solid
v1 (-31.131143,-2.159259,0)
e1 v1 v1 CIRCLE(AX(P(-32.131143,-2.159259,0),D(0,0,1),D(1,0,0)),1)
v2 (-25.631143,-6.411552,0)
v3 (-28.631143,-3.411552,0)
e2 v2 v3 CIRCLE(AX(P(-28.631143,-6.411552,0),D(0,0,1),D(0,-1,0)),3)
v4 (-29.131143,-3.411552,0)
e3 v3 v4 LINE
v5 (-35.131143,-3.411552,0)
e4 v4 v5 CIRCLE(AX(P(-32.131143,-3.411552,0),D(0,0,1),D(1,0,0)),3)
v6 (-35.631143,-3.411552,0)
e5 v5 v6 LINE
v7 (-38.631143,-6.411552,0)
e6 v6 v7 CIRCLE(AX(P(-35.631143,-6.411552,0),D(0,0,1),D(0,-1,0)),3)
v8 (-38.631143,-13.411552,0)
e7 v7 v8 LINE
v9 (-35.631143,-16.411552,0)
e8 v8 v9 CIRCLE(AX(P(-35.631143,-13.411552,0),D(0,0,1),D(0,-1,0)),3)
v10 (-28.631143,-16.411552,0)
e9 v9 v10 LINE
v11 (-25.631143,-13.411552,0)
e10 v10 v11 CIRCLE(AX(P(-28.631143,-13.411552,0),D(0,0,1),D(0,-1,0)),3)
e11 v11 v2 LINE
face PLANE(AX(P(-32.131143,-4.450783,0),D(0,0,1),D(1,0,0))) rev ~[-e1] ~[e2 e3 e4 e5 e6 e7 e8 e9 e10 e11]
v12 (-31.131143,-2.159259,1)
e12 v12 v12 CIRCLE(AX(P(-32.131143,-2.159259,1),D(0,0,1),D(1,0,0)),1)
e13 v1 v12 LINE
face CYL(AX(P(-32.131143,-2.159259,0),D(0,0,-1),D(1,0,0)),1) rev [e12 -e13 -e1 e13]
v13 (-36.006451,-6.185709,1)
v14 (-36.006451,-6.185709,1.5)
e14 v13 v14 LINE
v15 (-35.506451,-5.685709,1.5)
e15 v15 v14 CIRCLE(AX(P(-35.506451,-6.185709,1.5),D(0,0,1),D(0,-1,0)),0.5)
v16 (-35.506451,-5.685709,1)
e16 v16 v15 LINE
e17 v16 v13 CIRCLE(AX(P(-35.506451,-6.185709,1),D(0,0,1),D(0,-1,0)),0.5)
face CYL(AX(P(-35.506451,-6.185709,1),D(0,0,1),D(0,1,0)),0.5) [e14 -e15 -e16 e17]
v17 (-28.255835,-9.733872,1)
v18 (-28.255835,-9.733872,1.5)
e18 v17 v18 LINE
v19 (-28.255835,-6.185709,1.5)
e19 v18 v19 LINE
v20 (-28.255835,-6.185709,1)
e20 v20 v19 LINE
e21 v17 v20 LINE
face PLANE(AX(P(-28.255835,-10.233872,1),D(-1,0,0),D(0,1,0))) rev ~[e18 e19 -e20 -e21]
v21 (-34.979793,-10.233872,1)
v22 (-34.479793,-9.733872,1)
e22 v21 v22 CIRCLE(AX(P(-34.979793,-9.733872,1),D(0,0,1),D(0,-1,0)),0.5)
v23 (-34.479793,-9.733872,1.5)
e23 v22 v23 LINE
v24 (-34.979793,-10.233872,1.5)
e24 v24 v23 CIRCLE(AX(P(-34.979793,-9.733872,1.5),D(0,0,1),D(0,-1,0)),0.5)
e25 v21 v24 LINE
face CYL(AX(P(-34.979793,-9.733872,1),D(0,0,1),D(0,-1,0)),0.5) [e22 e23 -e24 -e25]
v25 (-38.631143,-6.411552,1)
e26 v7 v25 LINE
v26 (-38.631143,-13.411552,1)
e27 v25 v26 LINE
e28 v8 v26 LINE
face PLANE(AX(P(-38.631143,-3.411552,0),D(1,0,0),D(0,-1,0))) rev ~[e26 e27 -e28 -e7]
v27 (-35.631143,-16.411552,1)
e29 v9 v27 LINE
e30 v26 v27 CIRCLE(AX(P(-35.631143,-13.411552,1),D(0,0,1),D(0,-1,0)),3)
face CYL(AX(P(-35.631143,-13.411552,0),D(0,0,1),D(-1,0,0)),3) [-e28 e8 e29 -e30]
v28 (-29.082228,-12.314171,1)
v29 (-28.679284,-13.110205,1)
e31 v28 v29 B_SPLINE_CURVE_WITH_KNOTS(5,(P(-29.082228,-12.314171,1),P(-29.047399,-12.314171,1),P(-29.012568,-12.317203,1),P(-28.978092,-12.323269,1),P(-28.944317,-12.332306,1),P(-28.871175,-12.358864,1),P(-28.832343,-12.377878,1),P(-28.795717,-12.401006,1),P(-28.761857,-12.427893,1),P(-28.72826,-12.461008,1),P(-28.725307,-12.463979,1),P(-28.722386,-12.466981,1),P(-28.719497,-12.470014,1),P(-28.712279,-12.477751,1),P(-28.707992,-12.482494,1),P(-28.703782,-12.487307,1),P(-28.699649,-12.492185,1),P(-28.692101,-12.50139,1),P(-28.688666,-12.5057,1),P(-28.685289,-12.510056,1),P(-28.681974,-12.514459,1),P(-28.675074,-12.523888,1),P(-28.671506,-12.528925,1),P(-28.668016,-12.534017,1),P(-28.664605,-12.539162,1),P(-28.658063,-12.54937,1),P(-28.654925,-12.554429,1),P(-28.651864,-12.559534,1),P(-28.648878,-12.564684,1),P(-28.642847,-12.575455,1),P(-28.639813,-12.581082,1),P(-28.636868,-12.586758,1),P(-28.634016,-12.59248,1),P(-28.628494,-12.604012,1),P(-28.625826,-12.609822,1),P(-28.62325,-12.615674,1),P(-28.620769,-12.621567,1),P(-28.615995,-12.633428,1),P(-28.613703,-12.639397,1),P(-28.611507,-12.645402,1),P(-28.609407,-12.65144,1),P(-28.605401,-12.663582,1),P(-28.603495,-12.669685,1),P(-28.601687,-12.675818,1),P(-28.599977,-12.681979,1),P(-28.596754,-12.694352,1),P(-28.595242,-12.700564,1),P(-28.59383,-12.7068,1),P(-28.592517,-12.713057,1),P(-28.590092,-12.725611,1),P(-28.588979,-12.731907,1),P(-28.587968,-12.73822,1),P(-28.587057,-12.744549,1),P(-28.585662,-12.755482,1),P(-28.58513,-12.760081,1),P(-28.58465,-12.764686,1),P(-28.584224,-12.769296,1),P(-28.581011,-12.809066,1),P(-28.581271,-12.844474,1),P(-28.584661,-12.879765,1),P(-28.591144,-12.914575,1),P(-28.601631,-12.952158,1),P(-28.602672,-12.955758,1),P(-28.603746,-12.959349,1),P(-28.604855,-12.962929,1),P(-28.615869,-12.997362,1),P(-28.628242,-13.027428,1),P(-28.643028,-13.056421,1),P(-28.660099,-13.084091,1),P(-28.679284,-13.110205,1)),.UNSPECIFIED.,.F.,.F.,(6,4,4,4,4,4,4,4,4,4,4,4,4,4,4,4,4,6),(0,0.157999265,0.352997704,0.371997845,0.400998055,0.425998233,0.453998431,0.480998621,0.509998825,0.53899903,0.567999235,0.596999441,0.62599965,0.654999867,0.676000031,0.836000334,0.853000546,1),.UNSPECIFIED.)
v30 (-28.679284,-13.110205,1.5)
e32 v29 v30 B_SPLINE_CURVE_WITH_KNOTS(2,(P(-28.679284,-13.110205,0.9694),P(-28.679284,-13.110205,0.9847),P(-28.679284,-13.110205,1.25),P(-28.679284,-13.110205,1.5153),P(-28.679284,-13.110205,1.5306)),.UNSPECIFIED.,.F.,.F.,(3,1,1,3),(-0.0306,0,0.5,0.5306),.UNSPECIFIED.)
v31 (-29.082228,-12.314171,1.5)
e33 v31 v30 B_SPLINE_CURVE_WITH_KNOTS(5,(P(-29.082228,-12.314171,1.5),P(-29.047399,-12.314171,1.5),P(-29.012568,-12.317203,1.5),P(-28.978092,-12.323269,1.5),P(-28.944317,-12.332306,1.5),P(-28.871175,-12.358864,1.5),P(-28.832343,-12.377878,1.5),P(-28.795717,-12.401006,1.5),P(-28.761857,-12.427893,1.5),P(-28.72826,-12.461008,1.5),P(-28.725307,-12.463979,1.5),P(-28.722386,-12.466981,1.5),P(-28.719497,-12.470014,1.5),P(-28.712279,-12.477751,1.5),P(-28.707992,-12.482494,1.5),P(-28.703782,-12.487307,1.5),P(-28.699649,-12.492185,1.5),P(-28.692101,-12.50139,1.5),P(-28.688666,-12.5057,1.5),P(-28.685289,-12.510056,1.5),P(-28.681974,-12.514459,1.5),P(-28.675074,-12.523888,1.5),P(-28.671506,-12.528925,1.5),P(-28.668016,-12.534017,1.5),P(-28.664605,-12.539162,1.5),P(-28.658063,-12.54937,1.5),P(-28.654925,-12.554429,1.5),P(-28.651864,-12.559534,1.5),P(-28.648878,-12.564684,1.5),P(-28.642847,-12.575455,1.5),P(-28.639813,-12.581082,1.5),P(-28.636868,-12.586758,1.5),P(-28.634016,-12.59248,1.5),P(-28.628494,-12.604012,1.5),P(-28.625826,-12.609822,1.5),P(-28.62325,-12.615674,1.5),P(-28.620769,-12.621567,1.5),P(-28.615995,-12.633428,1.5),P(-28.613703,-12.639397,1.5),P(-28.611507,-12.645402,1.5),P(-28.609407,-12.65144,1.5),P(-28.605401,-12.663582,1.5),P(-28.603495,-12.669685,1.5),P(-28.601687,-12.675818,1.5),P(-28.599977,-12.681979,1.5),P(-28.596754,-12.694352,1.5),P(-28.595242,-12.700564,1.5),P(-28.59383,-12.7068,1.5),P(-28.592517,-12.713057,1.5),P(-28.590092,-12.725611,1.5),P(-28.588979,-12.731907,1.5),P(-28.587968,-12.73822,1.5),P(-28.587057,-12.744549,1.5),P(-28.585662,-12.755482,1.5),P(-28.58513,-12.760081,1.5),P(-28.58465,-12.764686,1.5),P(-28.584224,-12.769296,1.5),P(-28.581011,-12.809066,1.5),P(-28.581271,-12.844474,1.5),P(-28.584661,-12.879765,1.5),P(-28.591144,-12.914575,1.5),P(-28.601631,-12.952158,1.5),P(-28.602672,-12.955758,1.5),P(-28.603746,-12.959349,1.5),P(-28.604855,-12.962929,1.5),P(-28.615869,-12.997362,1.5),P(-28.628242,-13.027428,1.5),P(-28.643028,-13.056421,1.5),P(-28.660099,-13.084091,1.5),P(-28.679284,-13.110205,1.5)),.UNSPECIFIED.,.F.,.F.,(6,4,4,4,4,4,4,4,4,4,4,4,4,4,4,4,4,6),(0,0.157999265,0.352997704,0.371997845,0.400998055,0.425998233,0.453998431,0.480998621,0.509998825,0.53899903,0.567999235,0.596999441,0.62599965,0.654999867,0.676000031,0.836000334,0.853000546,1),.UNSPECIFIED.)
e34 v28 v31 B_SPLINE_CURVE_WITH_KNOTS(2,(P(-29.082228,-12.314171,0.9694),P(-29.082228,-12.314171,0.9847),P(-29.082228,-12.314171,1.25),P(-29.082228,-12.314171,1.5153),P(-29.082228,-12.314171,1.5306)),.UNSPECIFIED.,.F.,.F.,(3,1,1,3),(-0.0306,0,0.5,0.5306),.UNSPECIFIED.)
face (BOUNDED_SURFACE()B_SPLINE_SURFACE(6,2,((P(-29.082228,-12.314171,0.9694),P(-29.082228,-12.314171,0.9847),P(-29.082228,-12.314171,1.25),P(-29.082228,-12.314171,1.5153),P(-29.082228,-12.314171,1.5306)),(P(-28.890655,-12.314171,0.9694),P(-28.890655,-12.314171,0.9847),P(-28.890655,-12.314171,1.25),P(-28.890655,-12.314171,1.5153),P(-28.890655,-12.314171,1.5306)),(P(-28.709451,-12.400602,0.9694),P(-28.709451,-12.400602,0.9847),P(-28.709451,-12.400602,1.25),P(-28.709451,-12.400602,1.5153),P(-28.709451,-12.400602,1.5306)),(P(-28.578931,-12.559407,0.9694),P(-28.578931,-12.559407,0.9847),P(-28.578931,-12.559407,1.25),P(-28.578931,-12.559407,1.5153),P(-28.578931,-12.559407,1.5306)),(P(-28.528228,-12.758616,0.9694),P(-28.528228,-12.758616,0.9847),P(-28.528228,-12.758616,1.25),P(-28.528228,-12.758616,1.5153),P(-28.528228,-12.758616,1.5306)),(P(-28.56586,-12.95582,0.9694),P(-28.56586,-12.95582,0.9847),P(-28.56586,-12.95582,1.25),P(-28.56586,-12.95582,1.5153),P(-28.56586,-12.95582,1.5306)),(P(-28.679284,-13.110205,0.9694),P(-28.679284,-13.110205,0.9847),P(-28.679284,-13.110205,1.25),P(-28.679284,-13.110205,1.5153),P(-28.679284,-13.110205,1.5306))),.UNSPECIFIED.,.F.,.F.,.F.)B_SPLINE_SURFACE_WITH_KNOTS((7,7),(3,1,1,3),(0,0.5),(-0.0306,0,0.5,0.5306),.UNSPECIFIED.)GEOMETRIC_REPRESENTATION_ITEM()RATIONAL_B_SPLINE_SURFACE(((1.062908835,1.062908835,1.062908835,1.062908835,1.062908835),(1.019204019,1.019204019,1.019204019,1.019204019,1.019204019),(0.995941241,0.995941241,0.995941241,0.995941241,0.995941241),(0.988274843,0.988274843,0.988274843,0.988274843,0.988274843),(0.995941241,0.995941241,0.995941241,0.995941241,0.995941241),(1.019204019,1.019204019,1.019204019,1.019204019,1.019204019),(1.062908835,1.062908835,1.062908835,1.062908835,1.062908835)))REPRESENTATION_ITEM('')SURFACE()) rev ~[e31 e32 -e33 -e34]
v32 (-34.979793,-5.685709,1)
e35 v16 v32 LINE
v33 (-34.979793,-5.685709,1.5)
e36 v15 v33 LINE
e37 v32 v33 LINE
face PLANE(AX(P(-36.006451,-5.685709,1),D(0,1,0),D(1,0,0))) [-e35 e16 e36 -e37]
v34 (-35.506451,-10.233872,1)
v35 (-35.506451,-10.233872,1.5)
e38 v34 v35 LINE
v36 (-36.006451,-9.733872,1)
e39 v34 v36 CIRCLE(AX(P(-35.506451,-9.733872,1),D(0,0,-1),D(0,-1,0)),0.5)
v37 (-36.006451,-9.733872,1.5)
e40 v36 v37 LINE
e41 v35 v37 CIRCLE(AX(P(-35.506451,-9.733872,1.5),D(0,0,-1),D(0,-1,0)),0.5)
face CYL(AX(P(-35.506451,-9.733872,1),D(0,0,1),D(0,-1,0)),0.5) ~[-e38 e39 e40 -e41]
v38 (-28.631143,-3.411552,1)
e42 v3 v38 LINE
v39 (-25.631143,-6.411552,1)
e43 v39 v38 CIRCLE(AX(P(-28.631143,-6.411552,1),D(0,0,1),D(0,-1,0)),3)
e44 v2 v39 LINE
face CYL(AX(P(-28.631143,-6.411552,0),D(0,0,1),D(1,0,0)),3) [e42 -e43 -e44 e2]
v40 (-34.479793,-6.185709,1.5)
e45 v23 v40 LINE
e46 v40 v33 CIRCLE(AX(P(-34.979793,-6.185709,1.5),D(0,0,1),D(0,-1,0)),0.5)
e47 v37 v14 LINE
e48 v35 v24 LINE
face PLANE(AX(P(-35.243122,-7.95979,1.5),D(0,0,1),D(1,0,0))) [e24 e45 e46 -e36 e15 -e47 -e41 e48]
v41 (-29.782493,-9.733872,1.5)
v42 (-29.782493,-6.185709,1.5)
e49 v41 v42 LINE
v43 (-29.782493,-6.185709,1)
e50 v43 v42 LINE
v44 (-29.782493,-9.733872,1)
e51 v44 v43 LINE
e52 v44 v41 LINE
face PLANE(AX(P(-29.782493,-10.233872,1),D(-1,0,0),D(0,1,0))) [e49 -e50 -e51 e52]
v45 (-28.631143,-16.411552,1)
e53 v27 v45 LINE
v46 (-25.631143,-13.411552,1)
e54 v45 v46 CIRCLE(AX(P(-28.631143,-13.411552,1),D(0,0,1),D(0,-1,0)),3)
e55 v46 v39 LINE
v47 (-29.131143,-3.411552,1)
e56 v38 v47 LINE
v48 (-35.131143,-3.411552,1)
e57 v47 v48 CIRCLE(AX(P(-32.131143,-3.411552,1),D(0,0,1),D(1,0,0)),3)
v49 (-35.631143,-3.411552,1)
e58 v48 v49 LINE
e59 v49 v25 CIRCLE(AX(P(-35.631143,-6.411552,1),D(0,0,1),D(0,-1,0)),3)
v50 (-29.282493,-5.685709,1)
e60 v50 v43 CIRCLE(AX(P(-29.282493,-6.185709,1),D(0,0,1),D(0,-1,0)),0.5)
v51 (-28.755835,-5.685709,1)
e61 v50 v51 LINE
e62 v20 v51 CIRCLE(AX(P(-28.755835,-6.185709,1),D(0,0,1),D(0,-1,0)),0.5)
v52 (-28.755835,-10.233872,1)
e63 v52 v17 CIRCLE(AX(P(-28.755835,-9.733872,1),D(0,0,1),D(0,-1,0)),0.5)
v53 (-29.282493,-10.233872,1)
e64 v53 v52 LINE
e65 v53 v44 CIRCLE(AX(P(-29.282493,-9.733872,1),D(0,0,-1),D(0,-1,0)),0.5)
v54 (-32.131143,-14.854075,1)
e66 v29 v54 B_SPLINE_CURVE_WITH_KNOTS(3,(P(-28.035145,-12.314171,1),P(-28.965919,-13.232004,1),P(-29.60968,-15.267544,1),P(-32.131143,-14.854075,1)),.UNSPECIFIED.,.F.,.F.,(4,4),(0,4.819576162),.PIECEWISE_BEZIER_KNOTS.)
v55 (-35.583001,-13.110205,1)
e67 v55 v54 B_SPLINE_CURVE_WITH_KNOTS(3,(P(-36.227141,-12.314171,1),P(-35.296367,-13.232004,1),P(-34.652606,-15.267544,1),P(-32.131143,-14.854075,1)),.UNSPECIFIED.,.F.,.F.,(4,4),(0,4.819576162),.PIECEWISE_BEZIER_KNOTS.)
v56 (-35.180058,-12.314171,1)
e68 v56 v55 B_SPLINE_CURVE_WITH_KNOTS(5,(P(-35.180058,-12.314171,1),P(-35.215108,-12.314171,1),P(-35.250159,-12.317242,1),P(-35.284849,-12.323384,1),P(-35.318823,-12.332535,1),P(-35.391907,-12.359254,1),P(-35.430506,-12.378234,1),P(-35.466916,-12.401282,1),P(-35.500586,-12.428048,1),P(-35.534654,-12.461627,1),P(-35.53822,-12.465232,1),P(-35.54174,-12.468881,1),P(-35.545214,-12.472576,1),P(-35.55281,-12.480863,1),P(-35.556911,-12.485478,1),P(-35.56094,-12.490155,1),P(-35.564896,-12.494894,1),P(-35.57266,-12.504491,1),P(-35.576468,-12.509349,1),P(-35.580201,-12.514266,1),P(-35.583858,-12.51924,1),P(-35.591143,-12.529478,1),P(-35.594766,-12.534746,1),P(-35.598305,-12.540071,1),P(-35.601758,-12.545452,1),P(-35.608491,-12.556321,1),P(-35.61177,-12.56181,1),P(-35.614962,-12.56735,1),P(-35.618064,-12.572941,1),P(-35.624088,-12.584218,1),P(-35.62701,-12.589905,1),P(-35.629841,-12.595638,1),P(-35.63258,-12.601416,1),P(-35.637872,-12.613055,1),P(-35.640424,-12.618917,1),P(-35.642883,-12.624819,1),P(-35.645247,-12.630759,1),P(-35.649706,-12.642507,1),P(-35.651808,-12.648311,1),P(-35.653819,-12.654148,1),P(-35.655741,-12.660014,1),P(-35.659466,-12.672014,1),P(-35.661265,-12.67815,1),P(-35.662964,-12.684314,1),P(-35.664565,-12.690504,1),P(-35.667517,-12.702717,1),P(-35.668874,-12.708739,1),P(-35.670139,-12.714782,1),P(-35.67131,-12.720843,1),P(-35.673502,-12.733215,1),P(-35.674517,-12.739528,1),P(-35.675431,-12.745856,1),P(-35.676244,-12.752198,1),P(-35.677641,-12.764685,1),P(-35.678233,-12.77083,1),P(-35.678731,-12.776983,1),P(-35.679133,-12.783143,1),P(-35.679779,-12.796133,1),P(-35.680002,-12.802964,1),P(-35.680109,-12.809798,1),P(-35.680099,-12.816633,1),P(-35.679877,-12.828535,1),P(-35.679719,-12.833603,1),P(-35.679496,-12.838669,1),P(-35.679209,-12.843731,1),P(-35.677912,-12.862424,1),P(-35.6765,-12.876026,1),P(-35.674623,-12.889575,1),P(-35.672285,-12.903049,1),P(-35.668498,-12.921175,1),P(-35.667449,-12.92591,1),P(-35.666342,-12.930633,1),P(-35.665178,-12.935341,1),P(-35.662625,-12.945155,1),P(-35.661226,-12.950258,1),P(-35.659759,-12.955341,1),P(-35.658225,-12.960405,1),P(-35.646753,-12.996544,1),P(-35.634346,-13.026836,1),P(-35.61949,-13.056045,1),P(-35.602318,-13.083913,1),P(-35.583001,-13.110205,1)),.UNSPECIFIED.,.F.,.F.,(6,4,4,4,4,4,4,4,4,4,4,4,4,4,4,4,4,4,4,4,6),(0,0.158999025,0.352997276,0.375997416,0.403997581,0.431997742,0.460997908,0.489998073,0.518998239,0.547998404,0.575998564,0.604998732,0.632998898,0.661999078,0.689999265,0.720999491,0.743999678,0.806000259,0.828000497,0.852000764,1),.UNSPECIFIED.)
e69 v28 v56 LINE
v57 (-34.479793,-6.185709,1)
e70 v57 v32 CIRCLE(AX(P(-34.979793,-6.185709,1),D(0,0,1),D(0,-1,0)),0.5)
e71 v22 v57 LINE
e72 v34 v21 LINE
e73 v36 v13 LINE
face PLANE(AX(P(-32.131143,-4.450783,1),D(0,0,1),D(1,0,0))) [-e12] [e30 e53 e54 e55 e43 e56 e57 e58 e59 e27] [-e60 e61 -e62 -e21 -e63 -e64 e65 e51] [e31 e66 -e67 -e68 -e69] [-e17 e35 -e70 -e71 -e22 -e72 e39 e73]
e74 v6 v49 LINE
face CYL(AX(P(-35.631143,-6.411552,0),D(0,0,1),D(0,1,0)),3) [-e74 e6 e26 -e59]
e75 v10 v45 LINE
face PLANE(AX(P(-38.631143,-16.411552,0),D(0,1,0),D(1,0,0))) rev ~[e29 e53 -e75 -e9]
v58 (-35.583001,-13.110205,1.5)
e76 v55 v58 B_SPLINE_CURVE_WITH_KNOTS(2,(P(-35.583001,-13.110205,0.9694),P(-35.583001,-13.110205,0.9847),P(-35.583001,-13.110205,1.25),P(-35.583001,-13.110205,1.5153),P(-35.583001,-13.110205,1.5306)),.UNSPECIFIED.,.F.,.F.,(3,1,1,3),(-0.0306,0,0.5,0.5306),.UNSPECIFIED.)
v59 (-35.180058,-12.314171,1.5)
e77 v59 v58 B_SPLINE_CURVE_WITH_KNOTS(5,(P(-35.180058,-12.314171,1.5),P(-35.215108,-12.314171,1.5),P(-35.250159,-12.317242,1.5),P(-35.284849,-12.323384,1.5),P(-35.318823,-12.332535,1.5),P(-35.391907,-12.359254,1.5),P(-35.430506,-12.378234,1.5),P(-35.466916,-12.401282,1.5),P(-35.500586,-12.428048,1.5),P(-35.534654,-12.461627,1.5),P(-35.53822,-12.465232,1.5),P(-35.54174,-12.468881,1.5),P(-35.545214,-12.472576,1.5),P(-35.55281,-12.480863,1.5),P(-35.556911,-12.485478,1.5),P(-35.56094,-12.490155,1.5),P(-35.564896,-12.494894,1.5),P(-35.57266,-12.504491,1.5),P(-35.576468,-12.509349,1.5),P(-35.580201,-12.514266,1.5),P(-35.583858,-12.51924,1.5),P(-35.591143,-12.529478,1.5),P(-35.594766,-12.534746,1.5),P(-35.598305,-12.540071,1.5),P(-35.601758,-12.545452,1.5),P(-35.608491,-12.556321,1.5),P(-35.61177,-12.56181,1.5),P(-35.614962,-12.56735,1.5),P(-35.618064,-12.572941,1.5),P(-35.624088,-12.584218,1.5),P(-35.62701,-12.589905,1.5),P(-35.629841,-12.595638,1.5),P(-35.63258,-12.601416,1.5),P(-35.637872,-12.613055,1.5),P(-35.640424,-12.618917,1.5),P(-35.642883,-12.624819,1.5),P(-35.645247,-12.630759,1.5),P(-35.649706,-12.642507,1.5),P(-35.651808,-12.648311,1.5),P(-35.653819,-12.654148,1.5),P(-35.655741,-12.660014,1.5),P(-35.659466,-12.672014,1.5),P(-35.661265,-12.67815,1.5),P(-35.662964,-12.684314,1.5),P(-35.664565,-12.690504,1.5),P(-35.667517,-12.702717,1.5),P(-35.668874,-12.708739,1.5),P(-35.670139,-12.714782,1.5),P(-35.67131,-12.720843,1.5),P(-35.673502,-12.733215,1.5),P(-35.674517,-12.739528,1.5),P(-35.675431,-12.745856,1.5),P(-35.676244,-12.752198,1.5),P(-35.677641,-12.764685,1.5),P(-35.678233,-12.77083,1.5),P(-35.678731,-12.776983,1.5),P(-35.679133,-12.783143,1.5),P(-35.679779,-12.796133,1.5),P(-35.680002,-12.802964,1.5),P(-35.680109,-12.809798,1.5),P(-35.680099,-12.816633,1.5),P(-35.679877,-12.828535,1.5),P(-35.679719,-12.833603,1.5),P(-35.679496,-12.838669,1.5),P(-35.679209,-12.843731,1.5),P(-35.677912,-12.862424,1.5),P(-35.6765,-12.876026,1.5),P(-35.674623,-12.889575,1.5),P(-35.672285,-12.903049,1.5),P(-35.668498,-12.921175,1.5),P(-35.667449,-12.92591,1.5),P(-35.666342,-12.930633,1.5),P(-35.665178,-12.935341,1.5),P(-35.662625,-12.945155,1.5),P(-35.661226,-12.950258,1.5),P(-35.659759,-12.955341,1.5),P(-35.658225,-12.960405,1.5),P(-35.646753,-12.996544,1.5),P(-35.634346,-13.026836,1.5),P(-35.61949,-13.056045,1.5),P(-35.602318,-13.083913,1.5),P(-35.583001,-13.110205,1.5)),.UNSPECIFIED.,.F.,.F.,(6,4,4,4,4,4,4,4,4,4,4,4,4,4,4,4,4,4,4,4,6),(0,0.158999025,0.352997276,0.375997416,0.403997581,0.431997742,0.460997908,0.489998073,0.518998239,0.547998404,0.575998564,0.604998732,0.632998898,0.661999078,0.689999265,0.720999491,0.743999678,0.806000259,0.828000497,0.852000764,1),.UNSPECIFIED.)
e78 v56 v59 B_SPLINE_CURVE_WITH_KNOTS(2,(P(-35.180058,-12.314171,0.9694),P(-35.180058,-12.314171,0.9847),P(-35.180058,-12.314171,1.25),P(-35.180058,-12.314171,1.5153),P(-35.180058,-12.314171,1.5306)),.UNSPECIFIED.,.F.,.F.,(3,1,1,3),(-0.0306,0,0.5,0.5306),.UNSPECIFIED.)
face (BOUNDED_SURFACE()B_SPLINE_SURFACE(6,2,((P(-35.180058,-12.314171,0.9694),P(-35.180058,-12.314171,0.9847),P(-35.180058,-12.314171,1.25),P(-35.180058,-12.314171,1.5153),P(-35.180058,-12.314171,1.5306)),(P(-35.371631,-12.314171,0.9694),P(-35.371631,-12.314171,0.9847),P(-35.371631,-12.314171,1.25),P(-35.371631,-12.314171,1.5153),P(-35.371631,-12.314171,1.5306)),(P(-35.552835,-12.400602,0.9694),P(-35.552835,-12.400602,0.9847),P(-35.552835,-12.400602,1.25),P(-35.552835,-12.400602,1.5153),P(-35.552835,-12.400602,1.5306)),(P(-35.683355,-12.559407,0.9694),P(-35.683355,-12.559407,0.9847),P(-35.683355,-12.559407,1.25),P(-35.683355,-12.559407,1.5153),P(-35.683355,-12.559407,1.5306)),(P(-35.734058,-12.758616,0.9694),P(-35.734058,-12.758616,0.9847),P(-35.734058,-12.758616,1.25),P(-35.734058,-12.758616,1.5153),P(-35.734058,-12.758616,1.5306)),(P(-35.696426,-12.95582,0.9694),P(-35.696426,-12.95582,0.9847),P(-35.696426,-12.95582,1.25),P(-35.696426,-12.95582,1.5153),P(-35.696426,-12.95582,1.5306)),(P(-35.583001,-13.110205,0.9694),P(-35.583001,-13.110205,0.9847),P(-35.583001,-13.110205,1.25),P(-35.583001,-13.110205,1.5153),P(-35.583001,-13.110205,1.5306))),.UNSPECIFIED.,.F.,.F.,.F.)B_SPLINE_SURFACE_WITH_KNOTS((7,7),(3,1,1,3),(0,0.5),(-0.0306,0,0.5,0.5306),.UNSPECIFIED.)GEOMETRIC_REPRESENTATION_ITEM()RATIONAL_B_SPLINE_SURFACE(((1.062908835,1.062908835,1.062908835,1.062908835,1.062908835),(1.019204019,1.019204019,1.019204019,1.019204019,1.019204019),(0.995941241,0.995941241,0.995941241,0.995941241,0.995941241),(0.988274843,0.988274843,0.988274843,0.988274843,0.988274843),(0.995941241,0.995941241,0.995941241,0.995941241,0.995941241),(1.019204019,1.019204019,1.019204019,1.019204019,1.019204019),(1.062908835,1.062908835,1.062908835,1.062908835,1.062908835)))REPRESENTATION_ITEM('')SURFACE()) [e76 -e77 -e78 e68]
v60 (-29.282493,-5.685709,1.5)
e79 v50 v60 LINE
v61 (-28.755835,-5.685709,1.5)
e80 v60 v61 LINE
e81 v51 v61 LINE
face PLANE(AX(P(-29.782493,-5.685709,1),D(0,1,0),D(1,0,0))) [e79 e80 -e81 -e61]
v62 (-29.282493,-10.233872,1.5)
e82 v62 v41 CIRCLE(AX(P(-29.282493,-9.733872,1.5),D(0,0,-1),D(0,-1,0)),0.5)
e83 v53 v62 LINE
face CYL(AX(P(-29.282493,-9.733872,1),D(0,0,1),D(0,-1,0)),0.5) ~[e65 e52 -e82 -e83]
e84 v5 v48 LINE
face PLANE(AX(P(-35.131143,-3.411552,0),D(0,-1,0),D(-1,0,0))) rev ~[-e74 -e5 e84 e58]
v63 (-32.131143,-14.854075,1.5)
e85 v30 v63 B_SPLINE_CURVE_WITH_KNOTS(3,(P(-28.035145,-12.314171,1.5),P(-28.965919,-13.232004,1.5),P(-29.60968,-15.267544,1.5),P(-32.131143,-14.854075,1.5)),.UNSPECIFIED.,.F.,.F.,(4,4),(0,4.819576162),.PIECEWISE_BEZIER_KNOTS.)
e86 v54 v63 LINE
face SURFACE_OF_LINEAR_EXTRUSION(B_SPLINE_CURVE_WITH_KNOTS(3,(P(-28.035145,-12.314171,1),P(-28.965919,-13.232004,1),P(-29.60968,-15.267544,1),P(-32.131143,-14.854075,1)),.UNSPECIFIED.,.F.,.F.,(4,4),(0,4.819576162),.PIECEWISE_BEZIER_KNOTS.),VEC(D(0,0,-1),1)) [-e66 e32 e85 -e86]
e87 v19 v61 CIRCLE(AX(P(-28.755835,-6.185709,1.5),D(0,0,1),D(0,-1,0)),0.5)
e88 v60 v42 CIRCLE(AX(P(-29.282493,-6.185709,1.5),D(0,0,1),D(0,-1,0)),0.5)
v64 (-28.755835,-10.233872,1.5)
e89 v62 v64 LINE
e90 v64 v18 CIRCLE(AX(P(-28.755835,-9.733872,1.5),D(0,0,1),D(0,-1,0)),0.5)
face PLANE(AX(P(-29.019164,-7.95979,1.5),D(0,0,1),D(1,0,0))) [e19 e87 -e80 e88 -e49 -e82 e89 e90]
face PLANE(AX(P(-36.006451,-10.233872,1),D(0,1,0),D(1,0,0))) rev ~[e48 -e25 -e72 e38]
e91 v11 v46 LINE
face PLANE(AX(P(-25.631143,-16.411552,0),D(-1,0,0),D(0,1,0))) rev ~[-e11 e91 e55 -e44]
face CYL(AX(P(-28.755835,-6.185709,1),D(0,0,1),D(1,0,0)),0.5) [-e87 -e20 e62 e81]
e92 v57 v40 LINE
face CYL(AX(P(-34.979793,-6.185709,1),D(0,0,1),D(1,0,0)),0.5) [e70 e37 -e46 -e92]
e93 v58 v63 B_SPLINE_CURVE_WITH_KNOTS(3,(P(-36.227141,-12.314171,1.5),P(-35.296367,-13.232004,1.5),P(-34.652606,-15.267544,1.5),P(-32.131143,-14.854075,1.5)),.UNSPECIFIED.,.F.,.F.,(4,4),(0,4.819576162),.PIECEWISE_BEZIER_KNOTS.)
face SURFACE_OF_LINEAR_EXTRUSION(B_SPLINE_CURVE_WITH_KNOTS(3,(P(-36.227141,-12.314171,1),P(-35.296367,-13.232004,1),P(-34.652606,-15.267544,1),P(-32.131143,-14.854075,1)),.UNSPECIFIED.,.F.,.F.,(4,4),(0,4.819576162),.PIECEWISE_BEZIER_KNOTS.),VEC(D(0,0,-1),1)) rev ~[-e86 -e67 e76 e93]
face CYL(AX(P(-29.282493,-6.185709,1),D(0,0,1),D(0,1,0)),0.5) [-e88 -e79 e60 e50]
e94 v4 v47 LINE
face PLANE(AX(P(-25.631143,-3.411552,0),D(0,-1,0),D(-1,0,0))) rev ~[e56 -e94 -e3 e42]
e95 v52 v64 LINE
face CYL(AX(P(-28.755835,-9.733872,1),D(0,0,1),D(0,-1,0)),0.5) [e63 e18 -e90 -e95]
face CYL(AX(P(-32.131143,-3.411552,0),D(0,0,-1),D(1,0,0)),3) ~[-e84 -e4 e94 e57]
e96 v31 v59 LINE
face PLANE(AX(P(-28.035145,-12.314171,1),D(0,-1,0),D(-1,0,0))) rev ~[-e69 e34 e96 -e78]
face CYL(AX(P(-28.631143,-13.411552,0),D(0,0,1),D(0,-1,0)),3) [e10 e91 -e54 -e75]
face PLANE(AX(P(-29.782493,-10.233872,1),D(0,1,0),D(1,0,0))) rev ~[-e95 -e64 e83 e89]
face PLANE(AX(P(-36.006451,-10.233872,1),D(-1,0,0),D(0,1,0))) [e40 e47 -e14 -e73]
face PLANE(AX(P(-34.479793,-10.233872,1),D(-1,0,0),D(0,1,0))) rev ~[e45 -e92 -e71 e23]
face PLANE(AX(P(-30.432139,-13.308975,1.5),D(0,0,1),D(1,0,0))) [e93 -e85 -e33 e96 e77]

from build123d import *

# Parameters (mm, degrees)
F0_R     = 1
F1_DEPTH = 1
F2_R     = 3
F3_W     = 1.5266574919
F3_H     = 4.5481626876
F4_DEPTH = 0.5
F5_R     = 0.5


with BuildPart() as f1:
    # F0 (on Top) → F1 (new body)
    with BuildSketch(Plane.XY):
        with BuildLine():
            ThreePointArc((-35.1311429143, -3.4115522057), (-32.1311429143, -6.4115522057), (-29.1311429143, -3.4115522057))
            Line((-29.1311429143, -3.4115522057), (-35.1311429143, -3.4115522057))
        make_face()
        with BuildLine():
            Line((-35.1311429143, -3.4115522057), (-29.1311429143, -3.4115522057))
            ThreePointArc((-29.1311429143, -3.4115522057), (-32.1311429143, -0.4115522057), (-35.1311429143, -3.4115522057))
        make_face()
        with Locations((-32.1311429143, -2.1592592821)):
            Circle(F0_R, mode=Mode.SUBTRACT)
        with BuildLine():
            Line((-25.6311429143, -3.4115522057), (-29.1311429143, -3.4115522057))
            ThreePointArc((-29.1311429143, -3.4115522057), (-32.1311429143, -6.4115522057), (-35.1311429143, -3.4115522057))
            Line((-35.1311429143, -3.4115522057), (-38.6311429143, -3.4115522057))
            Line((-38.6311429143, -3.4115522057), (-38.6311429143, -16.4115522057))
            Line((-38.6311429143, -16.4115522057), (-25.6311429143, -16.4115522057))
            Line((-25.6311429143, -16.4115522057), (-25.6311429143, -3.4115522057))
        make_face()
    extrude(amount=F1_DEPTH)

    # F2
    f2_edges = [f1.edges().sort_by_distance(p)[0] for p in [
        (-25.631143, -3.411552, 0.5),
        (-25.631143, -16.411552, 0.5),
        (-38.631143, -3.411552, 0.5),
        (-38.631143, -16.411552, 0.5),
    ]]
    fillet(f2_edges, radius=F2_R)

    # F3 (on face) → F4 (join)
    with BuildSketch(Plane.XY.offset(1)):
        with Locations((-35.2431219071, -7.959790295)):
            Rectangle(F3_W, F3_H)
        with Locations((-29.0191639215, -7.959790295)):
            Rectangle(F3_W, F3_H)
        with BuildLine():
            Line((-28.0351451192, -12.3141705765), (-32.1311429143, -12.3141705765))
            Line((-32.1311429143, -12.3141705765), (-32.1311429143, -14.8540753871))
            add(Edge.make_bspline(
                [(-28.0351451192, -12.3141705765), (-28.9659189681, -13.232003587), (-29.6096801758, -15.267544426), (-32.1311429143, -14.8540753871)],
                knots=[0, 0, 0, 0, 4.8195761623, 4.8195761623, 4.8195761623, 4.8195761623], degree=3))
        make_face()
        with BuildLine():
            Line((-32.1311429143, -12.3141705765), (-36.2271407093, -12.3141705765))
            add(Edge.make_bspline(
                [(-36.2271407093, -12.3141705765), (-35.2963668605, -13.232003587), (-34.6526056528, -15.267544426), (-32.1311429143, -14.8540753871)],
                knots=[0, 0, 0, 0, 4.8195761623, 4.8195761623, 4.8195761623, 4.8195761623], degree=3))
            Line((-32.1311429143, -14.8540753871), (-32.1311429143, -12.3141705765))
        make_face()
    extrude(amount=F4_DEPTH)

    # F5
    f5_edges = [f1.edges().sort_by_distance(p)[0] for p in [
        (-36.006451, -5.685709, 1.25),
        (-34.479793, -5.685709, 1.25),
        (-34.479793, -10.233872, 1.25),
        (-36.006451, -10.233872, 1.25),
        (-28.255835, -5.685709, 1.25),
        (-28.255835, -10.233872, 1.25),
        (-29.782493, -5.685709, 1.25),
        (-29.782493, -10.233872, 1.25),
        (-36.227141, -12.314171, 1.25),
        (-28.035145, -12.314171, 1.25),
    ]]
    fillet(f5_edges, radius=F5_R)


solid = f1.part
